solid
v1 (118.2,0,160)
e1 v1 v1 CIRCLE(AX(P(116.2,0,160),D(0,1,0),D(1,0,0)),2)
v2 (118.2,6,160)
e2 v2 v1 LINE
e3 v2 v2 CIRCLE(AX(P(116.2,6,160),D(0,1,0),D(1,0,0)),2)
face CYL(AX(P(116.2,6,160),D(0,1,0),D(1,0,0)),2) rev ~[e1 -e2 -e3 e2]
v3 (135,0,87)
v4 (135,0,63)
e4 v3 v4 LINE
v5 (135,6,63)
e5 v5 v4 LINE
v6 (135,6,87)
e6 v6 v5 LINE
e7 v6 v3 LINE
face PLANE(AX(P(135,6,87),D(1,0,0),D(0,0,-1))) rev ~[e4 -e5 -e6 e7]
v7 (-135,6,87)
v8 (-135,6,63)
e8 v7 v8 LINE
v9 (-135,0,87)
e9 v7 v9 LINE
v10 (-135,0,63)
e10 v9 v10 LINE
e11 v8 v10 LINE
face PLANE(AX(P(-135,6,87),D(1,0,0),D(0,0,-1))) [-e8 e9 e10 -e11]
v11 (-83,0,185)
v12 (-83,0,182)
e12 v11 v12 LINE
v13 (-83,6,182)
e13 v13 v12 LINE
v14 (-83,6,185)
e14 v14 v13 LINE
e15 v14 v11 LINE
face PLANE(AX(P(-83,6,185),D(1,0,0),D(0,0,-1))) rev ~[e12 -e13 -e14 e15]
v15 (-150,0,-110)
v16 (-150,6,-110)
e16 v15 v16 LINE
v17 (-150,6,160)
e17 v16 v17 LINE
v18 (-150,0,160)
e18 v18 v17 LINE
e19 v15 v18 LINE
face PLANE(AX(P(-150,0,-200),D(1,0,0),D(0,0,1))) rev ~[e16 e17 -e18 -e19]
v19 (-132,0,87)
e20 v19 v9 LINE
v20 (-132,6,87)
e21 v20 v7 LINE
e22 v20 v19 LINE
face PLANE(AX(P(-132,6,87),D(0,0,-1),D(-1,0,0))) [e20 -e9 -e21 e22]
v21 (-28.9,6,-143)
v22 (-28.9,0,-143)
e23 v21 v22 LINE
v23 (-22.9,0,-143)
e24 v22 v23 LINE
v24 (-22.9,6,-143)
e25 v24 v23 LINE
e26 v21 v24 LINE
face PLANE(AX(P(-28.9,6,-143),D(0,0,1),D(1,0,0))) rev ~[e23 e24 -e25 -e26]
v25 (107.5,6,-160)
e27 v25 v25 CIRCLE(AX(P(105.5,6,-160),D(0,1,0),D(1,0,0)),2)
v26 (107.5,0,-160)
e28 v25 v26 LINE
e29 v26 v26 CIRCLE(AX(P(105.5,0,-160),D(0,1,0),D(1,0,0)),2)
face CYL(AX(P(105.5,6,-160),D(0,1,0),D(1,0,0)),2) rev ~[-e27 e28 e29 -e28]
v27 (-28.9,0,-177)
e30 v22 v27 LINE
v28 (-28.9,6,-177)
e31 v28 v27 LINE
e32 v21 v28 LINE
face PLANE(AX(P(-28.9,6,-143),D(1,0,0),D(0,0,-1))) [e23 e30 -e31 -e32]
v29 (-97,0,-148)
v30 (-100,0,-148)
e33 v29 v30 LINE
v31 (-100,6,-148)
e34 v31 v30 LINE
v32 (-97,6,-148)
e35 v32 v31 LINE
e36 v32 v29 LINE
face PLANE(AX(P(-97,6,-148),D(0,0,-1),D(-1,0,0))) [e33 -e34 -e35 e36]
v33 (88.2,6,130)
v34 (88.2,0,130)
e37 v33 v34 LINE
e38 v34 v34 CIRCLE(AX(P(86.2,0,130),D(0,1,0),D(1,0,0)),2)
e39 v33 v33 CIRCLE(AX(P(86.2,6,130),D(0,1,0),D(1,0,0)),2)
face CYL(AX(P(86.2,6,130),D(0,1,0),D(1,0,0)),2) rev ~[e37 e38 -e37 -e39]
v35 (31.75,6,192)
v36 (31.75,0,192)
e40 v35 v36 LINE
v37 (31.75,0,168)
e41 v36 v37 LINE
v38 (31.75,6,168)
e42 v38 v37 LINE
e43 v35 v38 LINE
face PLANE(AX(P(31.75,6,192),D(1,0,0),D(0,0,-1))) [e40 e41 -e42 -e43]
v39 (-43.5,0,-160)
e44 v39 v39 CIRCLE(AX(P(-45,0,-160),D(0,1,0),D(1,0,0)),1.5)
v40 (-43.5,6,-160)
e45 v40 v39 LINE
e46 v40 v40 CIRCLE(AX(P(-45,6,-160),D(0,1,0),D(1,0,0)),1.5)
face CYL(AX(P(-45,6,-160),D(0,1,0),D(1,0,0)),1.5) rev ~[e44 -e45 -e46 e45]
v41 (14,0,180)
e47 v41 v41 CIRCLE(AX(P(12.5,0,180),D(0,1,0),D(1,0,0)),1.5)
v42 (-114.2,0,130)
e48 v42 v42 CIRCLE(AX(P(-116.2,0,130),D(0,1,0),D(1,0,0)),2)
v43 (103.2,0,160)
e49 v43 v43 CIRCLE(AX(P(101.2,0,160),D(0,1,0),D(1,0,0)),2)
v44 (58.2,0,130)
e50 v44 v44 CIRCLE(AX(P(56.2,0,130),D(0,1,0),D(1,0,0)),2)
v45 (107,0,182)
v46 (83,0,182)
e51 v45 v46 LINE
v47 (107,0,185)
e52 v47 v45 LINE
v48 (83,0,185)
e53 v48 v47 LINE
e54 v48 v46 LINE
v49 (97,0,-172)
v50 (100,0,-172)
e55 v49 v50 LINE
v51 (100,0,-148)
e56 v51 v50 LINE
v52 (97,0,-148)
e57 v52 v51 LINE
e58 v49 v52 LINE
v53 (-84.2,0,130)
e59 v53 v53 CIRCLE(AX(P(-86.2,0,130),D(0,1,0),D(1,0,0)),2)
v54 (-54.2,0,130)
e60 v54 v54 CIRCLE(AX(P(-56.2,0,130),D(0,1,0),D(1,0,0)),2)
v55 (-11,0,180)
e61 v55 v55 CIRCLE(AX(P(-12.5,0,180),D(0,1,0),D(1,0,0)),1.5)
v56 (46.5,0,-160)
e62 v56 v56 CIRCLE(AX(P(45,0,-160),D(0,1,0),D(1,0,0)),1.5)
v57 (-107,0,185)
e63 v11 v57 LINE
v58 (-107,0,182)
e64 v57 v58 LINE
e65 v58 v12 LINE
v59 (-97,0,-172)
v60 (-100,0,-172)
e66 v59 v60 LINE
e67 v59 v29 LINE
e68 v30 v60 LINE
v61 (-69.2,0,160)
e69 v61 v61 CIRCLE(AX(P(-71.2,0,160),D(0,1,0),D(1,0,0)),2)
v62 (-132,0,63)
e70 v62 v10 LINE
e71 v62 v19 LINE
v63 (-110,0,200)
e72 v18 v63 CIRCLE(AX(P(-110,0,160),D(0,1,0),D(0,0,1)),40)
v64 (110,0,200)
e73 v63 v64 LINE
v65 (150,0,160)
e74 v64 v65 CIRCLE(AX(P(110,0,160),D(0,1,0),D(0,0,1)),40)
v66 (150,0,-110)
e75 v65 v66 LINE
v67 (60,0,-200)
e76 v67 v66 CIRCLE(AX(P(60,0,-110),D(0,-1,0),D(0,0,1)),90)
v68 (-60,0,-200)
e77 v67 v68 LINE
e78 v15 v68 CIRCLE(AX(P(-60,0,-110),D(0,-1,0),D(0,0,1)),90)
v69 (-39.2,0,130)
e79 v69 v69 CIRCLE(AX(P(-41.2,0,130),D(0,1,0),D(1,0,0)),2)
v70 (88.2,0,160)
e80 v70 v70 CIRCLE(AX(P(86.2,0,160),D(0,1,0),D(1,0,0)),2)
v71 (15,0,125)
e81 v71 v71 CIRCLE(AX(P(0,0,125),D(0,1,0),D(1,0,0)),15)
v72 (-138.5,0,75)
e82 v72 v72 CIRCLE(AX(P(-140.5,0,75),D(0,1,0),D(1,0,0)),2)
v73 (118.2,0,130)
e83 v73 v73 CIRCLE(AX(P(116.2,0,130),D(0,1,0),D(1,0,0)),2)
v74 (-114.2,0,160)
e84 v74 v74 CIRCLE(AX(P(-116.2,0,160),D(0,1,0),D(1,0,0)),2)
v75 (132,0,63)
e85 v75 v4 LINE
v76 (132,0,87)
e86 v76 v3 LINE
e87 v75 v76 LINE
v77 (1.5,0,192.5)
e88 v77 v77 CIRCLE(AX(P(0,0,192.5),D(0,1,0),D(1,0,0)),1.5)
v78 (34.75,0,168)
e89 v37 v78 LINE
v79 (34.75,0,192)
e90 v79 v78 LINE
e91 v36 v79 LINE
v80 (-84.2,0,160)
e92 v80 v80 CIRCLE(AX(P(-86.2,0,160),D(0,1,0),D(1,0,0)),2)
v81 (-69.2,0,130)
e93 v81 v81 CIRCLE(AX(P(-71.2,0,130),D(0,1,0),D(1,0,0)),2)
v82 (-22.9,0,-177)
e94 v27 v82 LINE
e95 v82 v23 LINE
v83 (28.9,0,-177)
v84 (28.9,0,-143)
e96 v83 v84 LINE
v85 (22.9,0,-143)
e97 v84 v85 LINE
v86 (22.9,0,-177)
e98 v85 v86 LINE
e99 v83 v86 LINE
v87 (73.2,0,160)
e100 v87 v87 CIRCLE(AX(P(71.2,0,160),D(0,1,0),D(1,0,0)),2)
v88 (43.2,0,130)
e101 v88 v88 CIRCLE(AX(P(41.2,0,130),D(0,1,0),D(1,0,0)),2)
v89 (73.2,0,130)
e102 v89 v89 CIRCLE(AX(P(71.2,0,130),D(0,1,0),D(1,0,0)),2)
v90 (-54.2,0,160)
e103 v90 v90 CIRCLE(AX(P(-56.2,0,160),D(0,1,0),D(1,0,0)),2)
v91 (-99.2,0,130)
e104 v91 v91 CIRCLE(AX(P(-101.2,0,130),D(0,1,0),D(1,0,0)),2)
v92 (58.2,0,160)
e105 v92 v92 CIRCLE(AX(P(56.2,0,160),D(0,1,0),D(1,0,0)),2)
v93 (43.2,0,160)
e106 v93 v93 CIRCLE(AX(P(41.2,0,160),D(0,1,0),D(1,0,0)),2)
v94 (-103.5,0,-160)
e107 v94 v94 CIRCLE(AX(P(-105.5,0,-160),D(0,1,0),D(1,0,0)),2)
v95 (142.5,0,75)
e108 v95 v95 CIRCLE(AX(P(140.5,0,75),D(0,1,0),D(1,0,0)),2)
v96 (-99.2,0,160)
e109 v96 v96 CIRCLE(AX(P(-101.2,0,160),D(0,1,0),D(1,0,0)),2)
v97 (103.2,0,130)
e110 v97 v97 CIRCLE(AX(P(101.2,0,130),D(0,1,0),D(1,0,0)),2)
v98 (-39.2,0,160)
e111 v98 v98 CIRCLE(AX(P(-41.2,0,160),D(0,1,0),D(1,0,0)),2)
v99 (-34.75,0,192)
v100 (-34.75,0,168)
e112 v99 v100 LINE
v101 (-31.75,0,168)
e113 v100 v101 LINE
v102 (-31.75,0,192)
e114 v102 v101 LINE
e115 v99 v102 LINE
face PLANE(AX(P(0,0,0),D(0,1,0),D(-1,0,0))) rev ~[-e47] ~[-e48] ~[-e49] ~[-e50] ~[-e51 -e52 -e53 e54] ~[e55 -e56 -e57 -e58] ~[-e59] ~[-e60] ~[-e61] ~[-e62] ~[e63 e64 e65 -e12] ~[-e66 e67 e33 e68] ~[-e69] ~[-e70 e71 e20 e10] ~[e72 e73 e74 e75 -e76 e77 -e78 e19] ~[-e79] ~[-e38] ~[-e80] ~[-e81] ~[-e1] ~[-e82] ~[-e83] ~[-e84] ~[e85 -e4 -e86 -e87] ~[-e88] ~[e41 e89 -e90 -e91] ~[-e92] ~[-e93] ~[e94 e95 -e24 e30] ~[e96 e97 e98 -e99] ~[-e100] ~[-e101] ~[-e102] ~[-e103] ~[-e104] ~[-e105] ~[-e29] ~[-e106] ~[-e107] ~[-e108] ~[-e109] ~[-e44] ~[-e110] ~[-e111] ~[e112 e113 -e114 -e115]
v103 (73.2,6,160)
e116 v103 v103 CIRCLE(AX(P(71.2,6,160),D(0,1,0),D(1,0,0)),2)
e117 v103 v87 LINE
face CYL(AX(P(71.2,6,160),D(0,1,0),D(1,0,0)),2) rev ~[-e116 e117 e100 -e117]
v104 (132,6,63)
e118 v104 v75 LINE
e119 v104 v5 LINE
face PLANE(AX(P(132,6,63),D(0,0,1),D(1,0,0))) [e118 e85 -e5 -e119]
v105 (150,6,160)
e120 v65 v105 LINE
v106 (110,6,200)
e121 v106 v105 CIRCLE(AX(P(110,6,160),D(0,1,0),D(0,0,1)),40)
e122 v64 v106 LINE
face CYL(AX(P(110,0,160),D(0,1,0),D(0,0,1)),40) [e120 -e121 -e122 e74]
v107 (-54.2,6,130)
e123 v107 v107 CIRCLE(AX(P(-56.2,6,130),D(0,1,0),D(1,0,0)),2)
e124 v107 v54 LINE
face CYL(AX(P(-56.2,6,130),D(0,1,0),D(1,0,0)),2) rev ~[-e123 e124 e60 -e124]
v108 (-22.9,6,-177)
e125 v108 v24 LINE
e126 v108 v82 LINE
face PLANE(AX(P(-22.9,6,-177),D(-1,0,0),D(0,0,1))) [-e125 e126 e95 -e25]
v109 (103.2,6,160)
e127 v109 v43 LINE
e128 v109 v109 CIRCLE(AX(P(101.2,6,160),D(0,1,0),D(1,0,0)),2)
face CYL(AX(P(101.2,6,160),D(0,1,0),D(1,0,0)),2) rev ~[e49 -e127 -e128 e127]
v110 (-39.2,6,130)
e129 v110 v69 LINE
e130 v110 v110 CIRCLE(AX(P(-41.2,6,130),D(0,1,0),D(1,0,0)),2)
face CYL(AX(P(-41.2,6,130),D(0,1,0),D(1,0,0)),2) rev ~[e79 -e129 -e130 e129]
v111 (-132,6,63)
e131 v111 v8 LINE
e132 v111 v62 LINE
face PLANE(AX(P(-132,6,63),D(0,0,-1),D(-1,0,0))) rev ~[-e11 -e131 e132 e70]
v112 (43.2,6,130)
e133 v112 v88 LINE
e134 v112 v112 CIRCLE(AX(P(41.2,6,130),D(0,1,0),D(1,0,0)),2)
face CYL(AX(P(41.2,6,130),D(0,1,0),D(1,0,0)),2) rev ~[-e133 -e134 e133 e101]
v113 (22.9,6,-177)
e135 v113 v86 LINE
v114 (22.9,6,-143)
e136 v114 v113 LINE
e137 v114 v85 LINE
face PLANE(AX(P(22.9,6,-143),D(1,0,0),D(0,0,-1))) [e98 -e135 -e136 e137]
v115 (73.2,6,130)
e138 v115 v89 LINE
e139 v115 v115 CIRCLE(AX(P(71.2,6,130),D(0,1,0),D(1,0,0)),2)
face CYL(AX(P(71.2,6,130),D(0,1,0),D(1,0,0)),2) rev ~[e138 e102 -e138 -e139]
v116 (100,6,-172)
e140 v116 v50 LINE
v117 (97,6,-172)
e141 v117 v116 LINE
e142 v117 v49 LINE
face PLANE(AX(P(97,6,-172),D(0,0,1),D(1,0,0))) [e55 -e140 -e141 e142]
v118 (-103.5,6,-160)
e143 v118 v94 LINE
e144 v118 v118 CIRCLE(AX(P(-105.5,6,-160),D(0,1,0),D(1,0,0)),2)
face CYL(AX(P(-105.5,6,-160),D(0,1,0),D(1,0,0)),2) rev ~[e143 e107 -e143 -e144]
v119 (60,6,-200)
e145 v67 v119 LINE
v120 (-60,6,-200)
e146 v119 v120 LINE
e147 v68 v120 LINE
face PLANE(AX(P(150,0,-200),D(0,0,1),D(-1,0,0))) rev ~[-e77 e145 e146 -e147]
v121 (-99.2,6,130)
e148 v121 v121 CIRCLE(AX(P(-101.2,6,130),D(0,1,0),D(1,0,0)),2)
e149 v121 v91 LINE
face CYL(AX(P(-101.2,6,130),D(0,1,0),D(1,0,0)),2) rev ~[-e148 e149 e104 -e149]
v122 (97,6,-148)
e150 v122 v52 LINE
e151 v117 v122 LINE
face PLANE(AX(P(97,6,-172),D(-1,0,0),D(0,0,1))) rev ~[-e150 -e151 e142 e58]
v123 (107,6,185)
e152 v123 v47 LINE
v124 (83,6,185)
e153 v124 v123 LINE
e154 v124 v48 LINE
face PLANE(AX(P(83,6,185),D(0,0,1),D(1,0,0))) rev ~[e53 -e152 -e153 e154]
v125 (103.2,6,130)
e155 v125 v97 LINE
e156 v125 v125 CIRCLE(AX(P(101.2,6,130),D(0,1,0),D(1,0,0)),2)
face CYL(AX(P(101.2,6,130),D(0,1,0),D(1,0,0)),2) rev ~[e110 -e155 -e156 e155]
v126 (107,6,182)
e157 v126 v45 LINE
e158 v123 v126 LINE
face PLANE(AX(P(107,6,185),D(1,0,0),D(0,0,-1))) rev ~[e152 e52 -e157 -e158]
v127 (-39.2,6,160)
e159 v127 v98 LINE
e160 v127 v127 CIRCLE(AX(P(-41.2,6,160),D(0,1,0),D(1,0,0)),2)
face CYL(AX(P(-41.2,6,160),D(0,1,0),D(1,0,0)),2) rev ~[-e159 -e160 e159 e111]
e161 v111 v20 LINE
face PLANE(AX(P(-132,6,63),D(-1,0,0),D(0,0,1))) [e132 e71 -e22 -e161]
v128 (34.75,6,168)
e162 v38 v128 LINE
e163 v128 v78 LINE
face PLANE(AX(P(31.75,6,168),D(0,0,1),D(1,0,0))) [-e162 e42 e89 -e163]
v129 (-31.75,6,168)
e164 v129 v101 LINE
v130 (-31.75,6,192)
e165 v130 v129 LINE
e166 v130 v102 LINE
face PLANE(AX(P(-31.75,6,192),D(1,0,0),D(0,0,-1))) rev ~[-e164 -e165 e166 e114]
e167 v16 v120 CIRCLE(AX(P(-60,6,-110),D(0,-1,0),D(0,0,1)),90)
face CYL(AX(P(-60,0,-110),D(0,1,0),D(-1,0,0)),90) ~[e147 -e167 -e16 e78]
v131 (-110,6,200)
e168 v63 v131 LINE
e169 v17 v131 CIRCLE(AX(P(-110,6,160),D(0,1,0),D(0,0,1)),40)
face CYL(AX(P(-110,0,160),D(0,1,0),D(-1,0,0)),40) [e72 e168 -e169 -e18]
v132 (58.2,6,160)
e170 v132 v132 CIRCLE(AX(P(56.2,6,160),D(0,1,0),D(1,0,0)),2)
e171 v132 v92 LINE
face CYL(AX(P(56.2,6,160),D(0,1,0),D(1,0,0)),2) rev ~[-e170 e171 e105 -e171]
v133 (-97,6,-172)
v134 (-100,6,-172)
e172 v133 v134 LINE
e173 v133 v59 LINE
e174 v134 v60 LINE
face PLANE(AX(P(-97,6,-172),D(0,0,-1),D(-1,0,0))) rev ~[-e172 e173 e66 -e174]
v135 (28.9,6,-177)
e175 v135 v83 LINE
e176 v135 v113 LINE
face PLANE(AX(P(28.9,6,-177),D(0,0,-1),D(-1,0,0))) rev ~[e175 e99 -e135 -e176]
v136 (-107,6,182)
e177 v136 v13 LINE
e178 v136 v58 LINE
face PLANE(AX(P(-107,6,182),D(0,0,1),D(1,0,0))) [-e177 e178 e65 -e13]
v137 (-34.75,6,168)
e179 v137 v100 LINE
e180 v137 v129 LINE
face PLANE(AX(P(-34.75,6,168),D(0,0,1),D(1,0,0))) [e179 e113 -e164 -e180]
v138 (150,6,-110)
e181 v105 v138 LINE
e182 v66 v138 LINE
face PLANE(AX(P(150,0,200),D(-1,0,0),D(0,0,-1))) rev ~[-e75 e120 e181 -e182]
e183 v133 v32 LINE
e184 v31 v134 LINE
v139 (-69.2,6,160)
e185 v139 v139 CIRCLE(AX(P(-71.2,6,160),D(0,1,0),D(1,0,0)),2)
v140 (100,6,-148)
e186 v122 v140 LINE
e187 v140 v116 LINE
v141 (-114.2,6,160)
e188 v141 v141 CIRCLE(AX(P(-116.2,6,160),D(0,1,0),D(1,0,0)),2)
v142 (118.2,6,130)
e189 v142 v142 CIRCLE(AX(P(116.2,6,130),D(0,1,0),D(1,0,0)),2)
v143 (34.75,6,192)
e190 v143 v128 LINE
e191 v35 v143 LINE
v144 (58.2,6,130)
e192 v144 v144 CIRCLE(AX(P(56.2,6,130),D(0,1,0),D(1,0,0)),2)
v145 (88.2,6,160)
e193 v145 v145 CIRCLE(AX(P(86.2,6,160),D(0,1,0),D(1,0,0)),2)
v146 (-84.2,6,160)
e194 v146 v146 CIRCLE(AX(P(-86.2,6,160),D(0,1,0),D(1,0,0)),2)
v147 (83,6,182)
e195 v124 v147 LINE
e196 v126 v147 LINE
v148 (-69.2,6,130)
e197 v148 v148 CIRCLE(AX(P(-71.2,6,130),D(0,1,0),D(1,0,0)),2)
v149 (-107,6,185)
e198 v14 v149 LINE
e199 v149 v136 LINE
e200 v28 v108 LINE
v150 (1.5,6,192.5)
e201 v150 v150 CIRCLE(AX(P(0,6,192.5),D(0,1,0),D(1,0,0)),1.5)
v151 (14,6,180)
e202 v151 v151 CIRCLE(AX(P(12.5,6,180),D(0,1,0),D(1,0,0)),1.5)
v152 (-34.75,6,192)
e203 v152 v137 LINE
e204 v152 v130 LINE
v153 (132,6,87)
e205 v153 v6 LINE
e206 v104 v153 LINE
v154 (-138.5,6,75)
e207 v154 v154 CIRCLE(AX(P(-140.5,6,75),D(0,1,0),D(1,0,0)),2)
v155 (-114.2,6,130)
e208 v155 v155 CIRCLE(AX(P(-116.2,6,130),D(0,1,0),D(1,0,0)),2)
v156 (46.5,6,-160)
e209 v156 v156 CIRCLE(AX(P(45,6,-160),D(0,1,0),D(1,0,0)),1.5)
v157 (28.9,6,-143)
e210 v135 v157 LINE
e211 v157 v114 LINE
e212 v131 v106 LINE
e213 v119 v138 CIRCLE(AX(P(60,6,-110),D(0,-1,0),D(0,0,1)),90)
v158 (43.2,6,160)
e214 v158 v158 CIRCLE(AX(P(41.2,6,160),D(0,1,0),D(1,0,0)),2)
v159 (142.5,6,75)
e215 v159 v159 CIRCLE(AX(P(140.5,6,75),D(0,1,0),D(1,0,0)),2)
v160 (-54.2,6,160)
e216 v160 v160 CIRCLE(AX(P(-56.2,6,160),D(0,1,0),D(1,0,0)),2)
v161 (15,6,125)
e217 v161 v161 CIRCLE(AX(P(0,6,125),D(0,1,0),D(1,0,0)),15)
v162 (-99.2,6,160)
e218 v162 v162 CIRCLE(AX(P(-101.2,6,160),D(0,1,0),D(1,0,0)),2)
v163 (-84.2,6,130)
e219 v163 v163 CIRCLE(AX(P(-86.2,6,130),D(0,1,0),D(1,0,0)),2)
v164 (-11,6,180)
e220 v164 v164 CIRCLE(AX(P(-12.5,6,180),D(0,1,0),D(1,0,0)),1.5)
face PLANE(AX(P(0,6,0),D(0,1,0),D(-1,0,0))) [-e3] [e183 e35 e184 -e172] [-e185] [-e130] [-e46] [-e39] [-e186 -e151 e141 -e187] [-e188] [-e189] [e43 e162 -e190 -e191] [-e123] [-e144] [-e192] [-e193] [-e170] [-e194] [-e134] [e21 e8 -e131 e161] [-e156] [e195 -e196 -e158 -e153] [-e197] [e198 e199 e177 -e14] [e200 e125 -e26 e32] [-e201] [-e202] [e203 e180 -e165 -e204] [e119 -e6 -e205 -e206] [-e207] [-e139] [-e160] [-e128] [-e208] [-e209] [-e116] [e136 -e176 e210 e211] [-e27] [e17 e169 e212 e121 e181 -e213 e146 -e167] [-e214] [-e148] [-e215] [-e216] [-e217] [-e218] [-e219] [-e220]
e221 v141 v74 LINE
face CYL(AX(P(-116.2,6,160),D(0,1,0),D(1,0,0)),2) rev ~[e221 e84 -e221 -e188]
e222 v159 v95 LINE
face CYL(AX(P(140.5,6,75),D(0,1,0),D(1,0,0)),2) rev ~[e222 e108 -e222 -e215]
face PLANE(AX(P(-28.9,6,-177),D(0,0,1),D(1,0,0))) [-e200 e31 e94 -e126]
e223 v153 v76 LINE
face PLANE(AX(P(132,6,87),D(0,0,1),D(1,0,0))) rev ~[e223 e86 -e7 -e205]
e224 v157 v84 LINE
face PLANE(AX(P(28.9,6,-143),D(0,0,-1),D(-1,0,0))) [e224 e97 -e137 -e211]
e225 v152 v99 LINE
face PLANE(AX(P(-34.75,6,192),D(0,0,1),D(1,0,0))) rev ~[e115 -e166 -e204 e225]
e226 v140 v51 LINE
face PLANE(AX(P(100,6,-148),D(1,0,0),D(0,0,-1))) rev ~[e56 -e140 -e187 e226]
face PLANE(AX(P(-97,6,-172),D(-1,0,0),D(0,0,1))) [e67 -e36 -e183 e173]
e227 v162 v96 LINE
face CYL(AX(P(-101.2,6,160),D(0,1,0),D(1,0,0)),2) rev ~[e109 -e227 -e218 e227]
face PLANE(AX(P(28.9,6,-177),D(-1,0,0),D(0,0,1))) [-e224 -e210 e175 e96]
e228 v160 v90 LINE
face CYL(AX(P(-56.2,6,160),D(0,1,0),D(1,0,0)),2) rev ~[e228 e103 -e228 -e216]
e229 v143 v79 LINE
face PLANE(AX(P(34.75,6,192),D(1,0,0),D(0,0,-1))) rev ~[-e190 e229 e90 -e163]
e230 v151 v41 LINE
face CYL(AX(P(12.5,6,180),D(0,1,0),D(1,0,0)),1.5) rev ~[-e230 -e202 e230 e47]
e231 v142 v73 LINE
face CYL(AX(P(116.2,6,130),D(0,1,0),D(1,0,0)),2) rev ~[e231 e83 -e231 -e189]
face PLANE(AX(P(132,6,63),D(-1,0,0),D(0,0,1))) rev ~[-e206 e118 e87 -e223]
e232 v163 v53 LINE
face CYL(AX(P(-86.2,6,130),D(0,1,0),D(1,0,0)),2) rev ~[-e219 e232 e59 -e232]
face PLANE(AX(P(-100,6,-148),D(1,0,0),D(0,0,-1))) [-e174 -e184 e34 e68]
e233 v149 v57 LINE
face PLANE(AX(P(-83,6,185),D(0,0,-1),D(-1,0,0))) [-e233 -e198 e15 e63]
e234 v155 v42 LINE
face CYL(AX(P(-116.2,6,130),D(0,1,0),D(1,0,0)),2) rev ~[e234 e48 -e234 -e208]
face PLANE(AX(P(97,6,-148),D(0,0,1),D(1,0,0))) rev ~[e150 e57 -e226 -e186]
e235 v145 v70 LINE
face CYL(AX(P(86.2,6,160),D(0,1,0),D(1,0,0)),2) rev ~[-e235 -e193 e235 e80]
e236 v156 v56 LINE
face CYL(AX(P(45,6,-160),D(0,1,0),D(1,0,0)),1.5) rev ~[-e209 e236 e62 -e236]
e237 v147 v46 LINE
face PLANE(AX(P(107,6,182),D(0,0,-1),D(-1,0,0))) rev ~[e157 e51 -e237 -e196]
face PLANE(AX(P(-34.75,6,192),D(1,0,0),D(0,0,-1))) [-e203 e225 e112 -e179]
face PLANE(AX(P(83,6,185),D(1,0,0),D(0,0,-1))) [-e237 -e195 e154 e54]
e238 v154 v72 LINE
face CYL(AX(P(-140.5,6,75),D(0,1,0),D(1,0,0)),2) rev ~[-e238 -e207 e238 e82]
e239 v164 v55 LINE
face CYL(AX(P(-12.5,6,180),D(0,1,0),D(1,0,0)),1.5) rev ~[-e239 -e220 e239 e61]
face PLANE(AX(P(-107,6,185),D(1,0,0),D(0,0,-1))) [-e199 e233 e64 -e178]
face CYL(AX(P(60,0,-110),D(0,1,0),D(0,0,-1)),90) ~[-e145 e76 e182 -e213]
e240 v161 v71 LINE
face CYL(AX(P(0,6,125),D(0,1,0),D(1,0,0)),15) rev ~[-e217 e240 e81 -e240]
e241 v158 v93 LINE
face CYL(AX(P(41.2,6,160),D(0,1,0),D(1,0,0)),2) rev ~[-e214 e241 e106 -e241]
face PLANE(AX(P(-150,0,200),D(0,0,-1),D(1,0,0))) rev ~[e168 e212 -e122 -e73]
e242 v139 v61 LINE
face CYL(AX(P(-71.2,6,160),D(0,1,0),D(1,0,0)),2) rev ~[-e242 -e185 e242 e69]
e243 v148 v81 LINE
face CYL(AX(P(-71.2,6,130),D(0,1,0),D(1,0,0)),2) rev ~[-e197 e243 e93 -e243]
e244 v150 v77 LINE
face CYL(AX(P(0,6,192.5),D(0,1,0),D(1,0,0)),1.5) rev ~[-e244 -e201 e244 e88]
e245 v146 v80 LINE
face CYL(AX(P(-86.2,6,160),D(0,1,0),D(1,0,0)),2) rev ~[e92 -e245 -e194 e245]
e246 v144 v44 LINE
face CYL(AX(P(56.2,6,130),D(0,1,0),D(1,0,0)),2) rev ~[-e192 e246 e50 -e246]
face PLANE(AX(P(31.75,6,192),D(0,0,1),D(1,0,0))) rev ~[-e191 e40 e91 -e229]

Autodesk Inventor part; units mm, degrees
ref_plane "YZ Plane" through (0, 0, 0) normal (1, 0, 0) x (0, 1, 0)
ref_plane "XZ Plane" through (0, 0, 0) normal (0, 1, 0) x (-1, 0, 0)
ref_plane "XY Plane" through (0, 0, 0) normal (0, 0, 1) x (1, 0, 0)
sketch "Sketch1" plane through (0, 0, 0) normal (0, 1, 0) x (-1, 0, 0)
  line L0 (150, 200) -> (-150, 200)
  line L1 (-150, 200) -> (-150, -200)
  line L2 (-150, -200) -> (150, -200)
  line L3 (150, -200) -> (150, 200)
  line L4 (150, 200) -> (-150, -200) construction
  line L5 (-150, 200) -> (150, -200) construction
  point P0 (0, 0)
  dimension "d0" = 300
  dimension "d1" = 400
extrude "Extrusion1" add sketch "Sketch1" along normal blind 6
sketch "Sketch2" plane through (0, 6, 0) normal (0, 1, 0) x (1, 0, 0)
  line L0 (116.2, -158) -> (86.2, -158) construction
  line L1 (86.2, -162) -> (116.2, -162) construction
  arc A0 (86.2, -158) -> (86.2, -162) centre (86.2, -160) ccw construction
  arc A1 (116.2, -162) -> (116.2, -158) centre (116.2, -160) ccw construction
  line L2 (86.2, -132) -> (116.2, -132) construction
  line L3 (116.2, -128) -> (86.2, -128) construction
  arc A2 (116.2, -132) -> (116.2, -128) centre (116.2, -130) ccw construction
  arc A3 (86.2, -128) -> (86.2, -132) centre (86.2, -130) ccw construction
  line L4 (-116.2, -162) -> (-86.2, -162) construction
  line L5 (-86.2, -158) -> (-116.2, -158) construction
  arc A4 (-116.2, -158) -> (-116.2, -162) centre (-116.2, -160) ccw construction
  arc A5 (-86.2, -162) -> (-86.2, -158) centre (-86.2, -160) ccw construction
  arc A6 (-86.2, -132) -> (-86.2, -128) centre (-86.2, -130) ccw construction
  line L6 (-86.2, -128) -> (-116.2, -128) construction
  line L7 (-116.2, -132) -> (-86.2, -132) construction
  arc A7 (-116.2, -128) -> (-116.2, -132) centre (-116.2, -130) ccw construction
  line L8 (-116.2, -162) -> (-86.2, -162) construction
  line L9 (-86.2, -158) -> (-116.2, -158) construction
  circle A8 centre (-116.2, -160) radius 2
  circle A9 centre (-116.2, -130) radius 2
  circle A10 centre (-86.2, -130) radius 2
  circle A11 centre (-101.2, -130) radius 2
  circle A12 centre (-101.2, -160) radius 2
  circle A13 centre (-86.2, -160) radius 2
  circle A14 centre (86.2, -160) radius 2
  circle A15 centre (116.2, -160) radius 2
  circle A16 centre (101.2, -160) radius 2
  circle A17 centre (101.2, -130) radius 2
  circle A18 centre (86.2, -130) radius 2
  circle A19 centre (116.2, -130) radius 2
  circle A20 centre (-71.2, -160) radius 2
  circle A21 centre (-71.2, -130) radius 2
  circle A22 centre (-56.2, -160) radius 2
  circle A23 centre (-56.2, -130) radius 2
  circle A24 centre (-41.2, -160) radius 2
  circle A25 centre (-41.2, -130) radius 2
  circle A26 centre (71.2, -130) radius 2
  circle A27 centre (71.2, -160) radius 2
  circle A28 centre (56.2, -130) radius 2
  circle A29 centre (56.2, -160) radius 2
  circle A30 centre (41.2, -130) radius 2
  circle A31 centre (41.2, -160) radius 2
  point P0 (0, 0)
  point P1 (-71.2, -158)
  point P2 (-56.2, -158)
  point P3 (-41.2, -158)
  dimension "d4" = 15
  dimension "d5" = 15
  dimension "d6" = 15
  dimension "d7" = 15
  dimension "d17" = 15
  dimension "d24" = 15
  dimension "d29" = 15
extrude "Extrusion2" cut sketch "Sketch2" against normal blind 10
sketch "Sketch4" plane through (0, 6, 0) normal (0, 1, 0) x (1, 0, 0)
  circle A0 centre (0, -125) radius 15
  line L0 (-150, -200) -> (150, -200) projected
  line L1 (-150, 200) -> (-150, -200) projected
  point P0 (0, 0)
  dimension "d30" = 30
  dimension "d31" = 75
  dimension "d32" = 150
extrude "Extrusion4" cut sketch "Sketch4" against normal blind 10
sketch "Sketch5" plane through (0, 6, 0) normal (0, 1, 0) x (1, 0, 0)
  line L0 (28.9, 177) -> (28.9, 143) projected
  line L1 (22.9, 143) -> (22.9, 177) projected
  line L2 (28.9, 177) -> (22.9, 177) projected
  line L3 (28.9, 143) -> (22.9, 143) projected
  line L4 (-22.9, 177) -> (-22.9, 143) projected
  line L5 (-28.9, 143) -> (-28.9, 177) projected
  line L6 (-28.9, 177) -> (-22.9, 177) projected
  line L7 (-28.9, 143) -> (-22.9, 143) projected
  point P0 (0, 0)
extrude "Extrusion5" cut sketch "Sketch5" against normal blind 10
sketch "Sketch6" plane through (0, 6, 0) normal (0, 1, 0) x (1, 0, 0)
  circle A0 centre (45, 160) radius 1.5 projected
  circle A1 centre (-45, 160) radius 1.5 projected
  point P0 (0, 0)
extrude "Extrusion6" cut sketch "Sketch6" against normal blind 10
fillet "Fillet1" radius 40 2 edges at (-150, 3, 200) (150, 3, 200)
fillet "Fillet2" radius 90 2 edges at (150, 3, -200) (-150, 3, -200)
sketch "Sketch7" plane through (0, 6, 0) normal (0, 1, 0) x (1, 0, 0)
  line L0 (-34.75, -192) -> (-34.75, -168) projected
  line L1 (-34.75, -168) -> (-31.75, -168) projected
  line L2 (-31.75, -192) -> (-31.75, -168) projected
  line L3 (-34.75, -192) -> (-31.75, -192) projected
  line L4 (31.75, -192) -> (31.75, -168) projected
  line L5 (31.75, -168) -> (34.75, -168) projected
  line L6 (34.75, -192) -> (34.75, -168) projected
  line L7 (31.75, -192) -> (34.75, -192) projected
  point P0 (0, 0)
extrude "Extrusion7" cut sketch "Sketch7" against normal blind 10
sketch "Sketch8" plane through (0, 6, 0) normal (0, 1, 0) x (1, 0, 0)
  circle A0 centre (12.5, -180) radius 1.5 projected
  circle A1 centre (0, -192.5) radius 1.5 projected
  circle A2 centre (-12.5, -180) radius 1.5 projected
  point P0 (0, 0)
extrude "Extrusion8" cut sketch "Sketch8" against normal blind 10
sketch "Sketch9" plane through (0, 6, 0) normal (0, 1, 0) x (1, 0, 0)
  line L0 (-110, -200) -> (110, -200) projected
  line L1 (150, -160) -> (150, 110) projected
  line L2 (-150, 110) -> (-150, -160) projected
  line L3 (60, 200) -> (-60, 200) projected
  line L4 (0, -200) -> (0, 200) construction
  line L5 (60, 200) -> (-60, 200) construction
  line L6 (83, -185) -> (107, -185) projected
  line L7 (83, -185) -> (83, -182) projected
  line L8 (107, -182) -> (83, -182) projected
  line L9 (107, -185) -> (107, -182) projected
  line L10 (132, -63) -> (132, -87) projected
  line L11 (132, -63) -> (135, -63) projected
  line L12 (135, -87) -> (135, -63) projected
  line L13 (132, -87) -> (135, -87) projected
  line L14 (97, 172) -> (97, 148) projected
  line L15 (97, 172) -> (100, 172) projected
  line L16 (100, 148) -> (100, 172) projected
  line L17 (97, 148) -> (100, 148) projected
  line L18 (-83, -185) -> (-107, -185)
  line L19 (-83, -185) -> (-83, -182)
  line L20 (-107, -182) -> (-83, -182)
  line L21 (-107, -185) -> (-107, -182)
  line L22 (-132, -63) -> (-132, -87)
  line L23 (-132, -63) -> (-135, -63)
  line L24 (-135, -87) -> (-135, -63)
  line L25 (-132, -87) -> (-135, -87)
  line L26 (-97, 172) -> (-97, 148)
  line L27 (-97, 172) -> (-100, 172)
  line L28 (-100, 148) -> (-100, 172)
  line L29 (-97, 148) -> (-100, 148)
  point P0 (0, 0)
extrude "Extrusion9" cut sketch "Sketch9" against normal blind 10
sketch "Sketch10" plane through (0, 6, 0) normal (0, 1, 0) x (1, 0, 0)
  line L0 (135, -63) -> (135, -87) construction
  line L1 (100, 172) -> (100, 148) construction
  circle A0 centre (140.5, -75) radius 4.5 construction
  circle A1 centre (140.5, -75) radius 2
  circle A2 centre (105.5, 160) radius 4.5 construction
  circle A3 centre (105.5, 160) radius 2
  line L2 (-110, -200) -> (110, -200) projected
  line L3 (60, 200) -> (-60, 200) projected
  line L4 (0, -200) -> (0, 200) construction
  circle A4 centre (-140.5, -75) radius 4.5 construction
  circle A5 centre (-140.5, -75) radius 2
  circle A6 centre (-105.5, 160) radius 4.5 construction
  circle A7 centre (-105.5, 160) radius 2
  point P0 (0, 0)
  dimension "d47" = 9
  dimension "d48" = 12
  dimension "d50" = 5.5
  dimension "d51" = 4
  dimension "d52" = 9
  dimension "d53" = 12
  dimension "d54" = 5.5
  dimension "d55" = 4
extrude "Extrusion10" cut sketch "Sketch10" against normal blind 10
properties part number "Base"
